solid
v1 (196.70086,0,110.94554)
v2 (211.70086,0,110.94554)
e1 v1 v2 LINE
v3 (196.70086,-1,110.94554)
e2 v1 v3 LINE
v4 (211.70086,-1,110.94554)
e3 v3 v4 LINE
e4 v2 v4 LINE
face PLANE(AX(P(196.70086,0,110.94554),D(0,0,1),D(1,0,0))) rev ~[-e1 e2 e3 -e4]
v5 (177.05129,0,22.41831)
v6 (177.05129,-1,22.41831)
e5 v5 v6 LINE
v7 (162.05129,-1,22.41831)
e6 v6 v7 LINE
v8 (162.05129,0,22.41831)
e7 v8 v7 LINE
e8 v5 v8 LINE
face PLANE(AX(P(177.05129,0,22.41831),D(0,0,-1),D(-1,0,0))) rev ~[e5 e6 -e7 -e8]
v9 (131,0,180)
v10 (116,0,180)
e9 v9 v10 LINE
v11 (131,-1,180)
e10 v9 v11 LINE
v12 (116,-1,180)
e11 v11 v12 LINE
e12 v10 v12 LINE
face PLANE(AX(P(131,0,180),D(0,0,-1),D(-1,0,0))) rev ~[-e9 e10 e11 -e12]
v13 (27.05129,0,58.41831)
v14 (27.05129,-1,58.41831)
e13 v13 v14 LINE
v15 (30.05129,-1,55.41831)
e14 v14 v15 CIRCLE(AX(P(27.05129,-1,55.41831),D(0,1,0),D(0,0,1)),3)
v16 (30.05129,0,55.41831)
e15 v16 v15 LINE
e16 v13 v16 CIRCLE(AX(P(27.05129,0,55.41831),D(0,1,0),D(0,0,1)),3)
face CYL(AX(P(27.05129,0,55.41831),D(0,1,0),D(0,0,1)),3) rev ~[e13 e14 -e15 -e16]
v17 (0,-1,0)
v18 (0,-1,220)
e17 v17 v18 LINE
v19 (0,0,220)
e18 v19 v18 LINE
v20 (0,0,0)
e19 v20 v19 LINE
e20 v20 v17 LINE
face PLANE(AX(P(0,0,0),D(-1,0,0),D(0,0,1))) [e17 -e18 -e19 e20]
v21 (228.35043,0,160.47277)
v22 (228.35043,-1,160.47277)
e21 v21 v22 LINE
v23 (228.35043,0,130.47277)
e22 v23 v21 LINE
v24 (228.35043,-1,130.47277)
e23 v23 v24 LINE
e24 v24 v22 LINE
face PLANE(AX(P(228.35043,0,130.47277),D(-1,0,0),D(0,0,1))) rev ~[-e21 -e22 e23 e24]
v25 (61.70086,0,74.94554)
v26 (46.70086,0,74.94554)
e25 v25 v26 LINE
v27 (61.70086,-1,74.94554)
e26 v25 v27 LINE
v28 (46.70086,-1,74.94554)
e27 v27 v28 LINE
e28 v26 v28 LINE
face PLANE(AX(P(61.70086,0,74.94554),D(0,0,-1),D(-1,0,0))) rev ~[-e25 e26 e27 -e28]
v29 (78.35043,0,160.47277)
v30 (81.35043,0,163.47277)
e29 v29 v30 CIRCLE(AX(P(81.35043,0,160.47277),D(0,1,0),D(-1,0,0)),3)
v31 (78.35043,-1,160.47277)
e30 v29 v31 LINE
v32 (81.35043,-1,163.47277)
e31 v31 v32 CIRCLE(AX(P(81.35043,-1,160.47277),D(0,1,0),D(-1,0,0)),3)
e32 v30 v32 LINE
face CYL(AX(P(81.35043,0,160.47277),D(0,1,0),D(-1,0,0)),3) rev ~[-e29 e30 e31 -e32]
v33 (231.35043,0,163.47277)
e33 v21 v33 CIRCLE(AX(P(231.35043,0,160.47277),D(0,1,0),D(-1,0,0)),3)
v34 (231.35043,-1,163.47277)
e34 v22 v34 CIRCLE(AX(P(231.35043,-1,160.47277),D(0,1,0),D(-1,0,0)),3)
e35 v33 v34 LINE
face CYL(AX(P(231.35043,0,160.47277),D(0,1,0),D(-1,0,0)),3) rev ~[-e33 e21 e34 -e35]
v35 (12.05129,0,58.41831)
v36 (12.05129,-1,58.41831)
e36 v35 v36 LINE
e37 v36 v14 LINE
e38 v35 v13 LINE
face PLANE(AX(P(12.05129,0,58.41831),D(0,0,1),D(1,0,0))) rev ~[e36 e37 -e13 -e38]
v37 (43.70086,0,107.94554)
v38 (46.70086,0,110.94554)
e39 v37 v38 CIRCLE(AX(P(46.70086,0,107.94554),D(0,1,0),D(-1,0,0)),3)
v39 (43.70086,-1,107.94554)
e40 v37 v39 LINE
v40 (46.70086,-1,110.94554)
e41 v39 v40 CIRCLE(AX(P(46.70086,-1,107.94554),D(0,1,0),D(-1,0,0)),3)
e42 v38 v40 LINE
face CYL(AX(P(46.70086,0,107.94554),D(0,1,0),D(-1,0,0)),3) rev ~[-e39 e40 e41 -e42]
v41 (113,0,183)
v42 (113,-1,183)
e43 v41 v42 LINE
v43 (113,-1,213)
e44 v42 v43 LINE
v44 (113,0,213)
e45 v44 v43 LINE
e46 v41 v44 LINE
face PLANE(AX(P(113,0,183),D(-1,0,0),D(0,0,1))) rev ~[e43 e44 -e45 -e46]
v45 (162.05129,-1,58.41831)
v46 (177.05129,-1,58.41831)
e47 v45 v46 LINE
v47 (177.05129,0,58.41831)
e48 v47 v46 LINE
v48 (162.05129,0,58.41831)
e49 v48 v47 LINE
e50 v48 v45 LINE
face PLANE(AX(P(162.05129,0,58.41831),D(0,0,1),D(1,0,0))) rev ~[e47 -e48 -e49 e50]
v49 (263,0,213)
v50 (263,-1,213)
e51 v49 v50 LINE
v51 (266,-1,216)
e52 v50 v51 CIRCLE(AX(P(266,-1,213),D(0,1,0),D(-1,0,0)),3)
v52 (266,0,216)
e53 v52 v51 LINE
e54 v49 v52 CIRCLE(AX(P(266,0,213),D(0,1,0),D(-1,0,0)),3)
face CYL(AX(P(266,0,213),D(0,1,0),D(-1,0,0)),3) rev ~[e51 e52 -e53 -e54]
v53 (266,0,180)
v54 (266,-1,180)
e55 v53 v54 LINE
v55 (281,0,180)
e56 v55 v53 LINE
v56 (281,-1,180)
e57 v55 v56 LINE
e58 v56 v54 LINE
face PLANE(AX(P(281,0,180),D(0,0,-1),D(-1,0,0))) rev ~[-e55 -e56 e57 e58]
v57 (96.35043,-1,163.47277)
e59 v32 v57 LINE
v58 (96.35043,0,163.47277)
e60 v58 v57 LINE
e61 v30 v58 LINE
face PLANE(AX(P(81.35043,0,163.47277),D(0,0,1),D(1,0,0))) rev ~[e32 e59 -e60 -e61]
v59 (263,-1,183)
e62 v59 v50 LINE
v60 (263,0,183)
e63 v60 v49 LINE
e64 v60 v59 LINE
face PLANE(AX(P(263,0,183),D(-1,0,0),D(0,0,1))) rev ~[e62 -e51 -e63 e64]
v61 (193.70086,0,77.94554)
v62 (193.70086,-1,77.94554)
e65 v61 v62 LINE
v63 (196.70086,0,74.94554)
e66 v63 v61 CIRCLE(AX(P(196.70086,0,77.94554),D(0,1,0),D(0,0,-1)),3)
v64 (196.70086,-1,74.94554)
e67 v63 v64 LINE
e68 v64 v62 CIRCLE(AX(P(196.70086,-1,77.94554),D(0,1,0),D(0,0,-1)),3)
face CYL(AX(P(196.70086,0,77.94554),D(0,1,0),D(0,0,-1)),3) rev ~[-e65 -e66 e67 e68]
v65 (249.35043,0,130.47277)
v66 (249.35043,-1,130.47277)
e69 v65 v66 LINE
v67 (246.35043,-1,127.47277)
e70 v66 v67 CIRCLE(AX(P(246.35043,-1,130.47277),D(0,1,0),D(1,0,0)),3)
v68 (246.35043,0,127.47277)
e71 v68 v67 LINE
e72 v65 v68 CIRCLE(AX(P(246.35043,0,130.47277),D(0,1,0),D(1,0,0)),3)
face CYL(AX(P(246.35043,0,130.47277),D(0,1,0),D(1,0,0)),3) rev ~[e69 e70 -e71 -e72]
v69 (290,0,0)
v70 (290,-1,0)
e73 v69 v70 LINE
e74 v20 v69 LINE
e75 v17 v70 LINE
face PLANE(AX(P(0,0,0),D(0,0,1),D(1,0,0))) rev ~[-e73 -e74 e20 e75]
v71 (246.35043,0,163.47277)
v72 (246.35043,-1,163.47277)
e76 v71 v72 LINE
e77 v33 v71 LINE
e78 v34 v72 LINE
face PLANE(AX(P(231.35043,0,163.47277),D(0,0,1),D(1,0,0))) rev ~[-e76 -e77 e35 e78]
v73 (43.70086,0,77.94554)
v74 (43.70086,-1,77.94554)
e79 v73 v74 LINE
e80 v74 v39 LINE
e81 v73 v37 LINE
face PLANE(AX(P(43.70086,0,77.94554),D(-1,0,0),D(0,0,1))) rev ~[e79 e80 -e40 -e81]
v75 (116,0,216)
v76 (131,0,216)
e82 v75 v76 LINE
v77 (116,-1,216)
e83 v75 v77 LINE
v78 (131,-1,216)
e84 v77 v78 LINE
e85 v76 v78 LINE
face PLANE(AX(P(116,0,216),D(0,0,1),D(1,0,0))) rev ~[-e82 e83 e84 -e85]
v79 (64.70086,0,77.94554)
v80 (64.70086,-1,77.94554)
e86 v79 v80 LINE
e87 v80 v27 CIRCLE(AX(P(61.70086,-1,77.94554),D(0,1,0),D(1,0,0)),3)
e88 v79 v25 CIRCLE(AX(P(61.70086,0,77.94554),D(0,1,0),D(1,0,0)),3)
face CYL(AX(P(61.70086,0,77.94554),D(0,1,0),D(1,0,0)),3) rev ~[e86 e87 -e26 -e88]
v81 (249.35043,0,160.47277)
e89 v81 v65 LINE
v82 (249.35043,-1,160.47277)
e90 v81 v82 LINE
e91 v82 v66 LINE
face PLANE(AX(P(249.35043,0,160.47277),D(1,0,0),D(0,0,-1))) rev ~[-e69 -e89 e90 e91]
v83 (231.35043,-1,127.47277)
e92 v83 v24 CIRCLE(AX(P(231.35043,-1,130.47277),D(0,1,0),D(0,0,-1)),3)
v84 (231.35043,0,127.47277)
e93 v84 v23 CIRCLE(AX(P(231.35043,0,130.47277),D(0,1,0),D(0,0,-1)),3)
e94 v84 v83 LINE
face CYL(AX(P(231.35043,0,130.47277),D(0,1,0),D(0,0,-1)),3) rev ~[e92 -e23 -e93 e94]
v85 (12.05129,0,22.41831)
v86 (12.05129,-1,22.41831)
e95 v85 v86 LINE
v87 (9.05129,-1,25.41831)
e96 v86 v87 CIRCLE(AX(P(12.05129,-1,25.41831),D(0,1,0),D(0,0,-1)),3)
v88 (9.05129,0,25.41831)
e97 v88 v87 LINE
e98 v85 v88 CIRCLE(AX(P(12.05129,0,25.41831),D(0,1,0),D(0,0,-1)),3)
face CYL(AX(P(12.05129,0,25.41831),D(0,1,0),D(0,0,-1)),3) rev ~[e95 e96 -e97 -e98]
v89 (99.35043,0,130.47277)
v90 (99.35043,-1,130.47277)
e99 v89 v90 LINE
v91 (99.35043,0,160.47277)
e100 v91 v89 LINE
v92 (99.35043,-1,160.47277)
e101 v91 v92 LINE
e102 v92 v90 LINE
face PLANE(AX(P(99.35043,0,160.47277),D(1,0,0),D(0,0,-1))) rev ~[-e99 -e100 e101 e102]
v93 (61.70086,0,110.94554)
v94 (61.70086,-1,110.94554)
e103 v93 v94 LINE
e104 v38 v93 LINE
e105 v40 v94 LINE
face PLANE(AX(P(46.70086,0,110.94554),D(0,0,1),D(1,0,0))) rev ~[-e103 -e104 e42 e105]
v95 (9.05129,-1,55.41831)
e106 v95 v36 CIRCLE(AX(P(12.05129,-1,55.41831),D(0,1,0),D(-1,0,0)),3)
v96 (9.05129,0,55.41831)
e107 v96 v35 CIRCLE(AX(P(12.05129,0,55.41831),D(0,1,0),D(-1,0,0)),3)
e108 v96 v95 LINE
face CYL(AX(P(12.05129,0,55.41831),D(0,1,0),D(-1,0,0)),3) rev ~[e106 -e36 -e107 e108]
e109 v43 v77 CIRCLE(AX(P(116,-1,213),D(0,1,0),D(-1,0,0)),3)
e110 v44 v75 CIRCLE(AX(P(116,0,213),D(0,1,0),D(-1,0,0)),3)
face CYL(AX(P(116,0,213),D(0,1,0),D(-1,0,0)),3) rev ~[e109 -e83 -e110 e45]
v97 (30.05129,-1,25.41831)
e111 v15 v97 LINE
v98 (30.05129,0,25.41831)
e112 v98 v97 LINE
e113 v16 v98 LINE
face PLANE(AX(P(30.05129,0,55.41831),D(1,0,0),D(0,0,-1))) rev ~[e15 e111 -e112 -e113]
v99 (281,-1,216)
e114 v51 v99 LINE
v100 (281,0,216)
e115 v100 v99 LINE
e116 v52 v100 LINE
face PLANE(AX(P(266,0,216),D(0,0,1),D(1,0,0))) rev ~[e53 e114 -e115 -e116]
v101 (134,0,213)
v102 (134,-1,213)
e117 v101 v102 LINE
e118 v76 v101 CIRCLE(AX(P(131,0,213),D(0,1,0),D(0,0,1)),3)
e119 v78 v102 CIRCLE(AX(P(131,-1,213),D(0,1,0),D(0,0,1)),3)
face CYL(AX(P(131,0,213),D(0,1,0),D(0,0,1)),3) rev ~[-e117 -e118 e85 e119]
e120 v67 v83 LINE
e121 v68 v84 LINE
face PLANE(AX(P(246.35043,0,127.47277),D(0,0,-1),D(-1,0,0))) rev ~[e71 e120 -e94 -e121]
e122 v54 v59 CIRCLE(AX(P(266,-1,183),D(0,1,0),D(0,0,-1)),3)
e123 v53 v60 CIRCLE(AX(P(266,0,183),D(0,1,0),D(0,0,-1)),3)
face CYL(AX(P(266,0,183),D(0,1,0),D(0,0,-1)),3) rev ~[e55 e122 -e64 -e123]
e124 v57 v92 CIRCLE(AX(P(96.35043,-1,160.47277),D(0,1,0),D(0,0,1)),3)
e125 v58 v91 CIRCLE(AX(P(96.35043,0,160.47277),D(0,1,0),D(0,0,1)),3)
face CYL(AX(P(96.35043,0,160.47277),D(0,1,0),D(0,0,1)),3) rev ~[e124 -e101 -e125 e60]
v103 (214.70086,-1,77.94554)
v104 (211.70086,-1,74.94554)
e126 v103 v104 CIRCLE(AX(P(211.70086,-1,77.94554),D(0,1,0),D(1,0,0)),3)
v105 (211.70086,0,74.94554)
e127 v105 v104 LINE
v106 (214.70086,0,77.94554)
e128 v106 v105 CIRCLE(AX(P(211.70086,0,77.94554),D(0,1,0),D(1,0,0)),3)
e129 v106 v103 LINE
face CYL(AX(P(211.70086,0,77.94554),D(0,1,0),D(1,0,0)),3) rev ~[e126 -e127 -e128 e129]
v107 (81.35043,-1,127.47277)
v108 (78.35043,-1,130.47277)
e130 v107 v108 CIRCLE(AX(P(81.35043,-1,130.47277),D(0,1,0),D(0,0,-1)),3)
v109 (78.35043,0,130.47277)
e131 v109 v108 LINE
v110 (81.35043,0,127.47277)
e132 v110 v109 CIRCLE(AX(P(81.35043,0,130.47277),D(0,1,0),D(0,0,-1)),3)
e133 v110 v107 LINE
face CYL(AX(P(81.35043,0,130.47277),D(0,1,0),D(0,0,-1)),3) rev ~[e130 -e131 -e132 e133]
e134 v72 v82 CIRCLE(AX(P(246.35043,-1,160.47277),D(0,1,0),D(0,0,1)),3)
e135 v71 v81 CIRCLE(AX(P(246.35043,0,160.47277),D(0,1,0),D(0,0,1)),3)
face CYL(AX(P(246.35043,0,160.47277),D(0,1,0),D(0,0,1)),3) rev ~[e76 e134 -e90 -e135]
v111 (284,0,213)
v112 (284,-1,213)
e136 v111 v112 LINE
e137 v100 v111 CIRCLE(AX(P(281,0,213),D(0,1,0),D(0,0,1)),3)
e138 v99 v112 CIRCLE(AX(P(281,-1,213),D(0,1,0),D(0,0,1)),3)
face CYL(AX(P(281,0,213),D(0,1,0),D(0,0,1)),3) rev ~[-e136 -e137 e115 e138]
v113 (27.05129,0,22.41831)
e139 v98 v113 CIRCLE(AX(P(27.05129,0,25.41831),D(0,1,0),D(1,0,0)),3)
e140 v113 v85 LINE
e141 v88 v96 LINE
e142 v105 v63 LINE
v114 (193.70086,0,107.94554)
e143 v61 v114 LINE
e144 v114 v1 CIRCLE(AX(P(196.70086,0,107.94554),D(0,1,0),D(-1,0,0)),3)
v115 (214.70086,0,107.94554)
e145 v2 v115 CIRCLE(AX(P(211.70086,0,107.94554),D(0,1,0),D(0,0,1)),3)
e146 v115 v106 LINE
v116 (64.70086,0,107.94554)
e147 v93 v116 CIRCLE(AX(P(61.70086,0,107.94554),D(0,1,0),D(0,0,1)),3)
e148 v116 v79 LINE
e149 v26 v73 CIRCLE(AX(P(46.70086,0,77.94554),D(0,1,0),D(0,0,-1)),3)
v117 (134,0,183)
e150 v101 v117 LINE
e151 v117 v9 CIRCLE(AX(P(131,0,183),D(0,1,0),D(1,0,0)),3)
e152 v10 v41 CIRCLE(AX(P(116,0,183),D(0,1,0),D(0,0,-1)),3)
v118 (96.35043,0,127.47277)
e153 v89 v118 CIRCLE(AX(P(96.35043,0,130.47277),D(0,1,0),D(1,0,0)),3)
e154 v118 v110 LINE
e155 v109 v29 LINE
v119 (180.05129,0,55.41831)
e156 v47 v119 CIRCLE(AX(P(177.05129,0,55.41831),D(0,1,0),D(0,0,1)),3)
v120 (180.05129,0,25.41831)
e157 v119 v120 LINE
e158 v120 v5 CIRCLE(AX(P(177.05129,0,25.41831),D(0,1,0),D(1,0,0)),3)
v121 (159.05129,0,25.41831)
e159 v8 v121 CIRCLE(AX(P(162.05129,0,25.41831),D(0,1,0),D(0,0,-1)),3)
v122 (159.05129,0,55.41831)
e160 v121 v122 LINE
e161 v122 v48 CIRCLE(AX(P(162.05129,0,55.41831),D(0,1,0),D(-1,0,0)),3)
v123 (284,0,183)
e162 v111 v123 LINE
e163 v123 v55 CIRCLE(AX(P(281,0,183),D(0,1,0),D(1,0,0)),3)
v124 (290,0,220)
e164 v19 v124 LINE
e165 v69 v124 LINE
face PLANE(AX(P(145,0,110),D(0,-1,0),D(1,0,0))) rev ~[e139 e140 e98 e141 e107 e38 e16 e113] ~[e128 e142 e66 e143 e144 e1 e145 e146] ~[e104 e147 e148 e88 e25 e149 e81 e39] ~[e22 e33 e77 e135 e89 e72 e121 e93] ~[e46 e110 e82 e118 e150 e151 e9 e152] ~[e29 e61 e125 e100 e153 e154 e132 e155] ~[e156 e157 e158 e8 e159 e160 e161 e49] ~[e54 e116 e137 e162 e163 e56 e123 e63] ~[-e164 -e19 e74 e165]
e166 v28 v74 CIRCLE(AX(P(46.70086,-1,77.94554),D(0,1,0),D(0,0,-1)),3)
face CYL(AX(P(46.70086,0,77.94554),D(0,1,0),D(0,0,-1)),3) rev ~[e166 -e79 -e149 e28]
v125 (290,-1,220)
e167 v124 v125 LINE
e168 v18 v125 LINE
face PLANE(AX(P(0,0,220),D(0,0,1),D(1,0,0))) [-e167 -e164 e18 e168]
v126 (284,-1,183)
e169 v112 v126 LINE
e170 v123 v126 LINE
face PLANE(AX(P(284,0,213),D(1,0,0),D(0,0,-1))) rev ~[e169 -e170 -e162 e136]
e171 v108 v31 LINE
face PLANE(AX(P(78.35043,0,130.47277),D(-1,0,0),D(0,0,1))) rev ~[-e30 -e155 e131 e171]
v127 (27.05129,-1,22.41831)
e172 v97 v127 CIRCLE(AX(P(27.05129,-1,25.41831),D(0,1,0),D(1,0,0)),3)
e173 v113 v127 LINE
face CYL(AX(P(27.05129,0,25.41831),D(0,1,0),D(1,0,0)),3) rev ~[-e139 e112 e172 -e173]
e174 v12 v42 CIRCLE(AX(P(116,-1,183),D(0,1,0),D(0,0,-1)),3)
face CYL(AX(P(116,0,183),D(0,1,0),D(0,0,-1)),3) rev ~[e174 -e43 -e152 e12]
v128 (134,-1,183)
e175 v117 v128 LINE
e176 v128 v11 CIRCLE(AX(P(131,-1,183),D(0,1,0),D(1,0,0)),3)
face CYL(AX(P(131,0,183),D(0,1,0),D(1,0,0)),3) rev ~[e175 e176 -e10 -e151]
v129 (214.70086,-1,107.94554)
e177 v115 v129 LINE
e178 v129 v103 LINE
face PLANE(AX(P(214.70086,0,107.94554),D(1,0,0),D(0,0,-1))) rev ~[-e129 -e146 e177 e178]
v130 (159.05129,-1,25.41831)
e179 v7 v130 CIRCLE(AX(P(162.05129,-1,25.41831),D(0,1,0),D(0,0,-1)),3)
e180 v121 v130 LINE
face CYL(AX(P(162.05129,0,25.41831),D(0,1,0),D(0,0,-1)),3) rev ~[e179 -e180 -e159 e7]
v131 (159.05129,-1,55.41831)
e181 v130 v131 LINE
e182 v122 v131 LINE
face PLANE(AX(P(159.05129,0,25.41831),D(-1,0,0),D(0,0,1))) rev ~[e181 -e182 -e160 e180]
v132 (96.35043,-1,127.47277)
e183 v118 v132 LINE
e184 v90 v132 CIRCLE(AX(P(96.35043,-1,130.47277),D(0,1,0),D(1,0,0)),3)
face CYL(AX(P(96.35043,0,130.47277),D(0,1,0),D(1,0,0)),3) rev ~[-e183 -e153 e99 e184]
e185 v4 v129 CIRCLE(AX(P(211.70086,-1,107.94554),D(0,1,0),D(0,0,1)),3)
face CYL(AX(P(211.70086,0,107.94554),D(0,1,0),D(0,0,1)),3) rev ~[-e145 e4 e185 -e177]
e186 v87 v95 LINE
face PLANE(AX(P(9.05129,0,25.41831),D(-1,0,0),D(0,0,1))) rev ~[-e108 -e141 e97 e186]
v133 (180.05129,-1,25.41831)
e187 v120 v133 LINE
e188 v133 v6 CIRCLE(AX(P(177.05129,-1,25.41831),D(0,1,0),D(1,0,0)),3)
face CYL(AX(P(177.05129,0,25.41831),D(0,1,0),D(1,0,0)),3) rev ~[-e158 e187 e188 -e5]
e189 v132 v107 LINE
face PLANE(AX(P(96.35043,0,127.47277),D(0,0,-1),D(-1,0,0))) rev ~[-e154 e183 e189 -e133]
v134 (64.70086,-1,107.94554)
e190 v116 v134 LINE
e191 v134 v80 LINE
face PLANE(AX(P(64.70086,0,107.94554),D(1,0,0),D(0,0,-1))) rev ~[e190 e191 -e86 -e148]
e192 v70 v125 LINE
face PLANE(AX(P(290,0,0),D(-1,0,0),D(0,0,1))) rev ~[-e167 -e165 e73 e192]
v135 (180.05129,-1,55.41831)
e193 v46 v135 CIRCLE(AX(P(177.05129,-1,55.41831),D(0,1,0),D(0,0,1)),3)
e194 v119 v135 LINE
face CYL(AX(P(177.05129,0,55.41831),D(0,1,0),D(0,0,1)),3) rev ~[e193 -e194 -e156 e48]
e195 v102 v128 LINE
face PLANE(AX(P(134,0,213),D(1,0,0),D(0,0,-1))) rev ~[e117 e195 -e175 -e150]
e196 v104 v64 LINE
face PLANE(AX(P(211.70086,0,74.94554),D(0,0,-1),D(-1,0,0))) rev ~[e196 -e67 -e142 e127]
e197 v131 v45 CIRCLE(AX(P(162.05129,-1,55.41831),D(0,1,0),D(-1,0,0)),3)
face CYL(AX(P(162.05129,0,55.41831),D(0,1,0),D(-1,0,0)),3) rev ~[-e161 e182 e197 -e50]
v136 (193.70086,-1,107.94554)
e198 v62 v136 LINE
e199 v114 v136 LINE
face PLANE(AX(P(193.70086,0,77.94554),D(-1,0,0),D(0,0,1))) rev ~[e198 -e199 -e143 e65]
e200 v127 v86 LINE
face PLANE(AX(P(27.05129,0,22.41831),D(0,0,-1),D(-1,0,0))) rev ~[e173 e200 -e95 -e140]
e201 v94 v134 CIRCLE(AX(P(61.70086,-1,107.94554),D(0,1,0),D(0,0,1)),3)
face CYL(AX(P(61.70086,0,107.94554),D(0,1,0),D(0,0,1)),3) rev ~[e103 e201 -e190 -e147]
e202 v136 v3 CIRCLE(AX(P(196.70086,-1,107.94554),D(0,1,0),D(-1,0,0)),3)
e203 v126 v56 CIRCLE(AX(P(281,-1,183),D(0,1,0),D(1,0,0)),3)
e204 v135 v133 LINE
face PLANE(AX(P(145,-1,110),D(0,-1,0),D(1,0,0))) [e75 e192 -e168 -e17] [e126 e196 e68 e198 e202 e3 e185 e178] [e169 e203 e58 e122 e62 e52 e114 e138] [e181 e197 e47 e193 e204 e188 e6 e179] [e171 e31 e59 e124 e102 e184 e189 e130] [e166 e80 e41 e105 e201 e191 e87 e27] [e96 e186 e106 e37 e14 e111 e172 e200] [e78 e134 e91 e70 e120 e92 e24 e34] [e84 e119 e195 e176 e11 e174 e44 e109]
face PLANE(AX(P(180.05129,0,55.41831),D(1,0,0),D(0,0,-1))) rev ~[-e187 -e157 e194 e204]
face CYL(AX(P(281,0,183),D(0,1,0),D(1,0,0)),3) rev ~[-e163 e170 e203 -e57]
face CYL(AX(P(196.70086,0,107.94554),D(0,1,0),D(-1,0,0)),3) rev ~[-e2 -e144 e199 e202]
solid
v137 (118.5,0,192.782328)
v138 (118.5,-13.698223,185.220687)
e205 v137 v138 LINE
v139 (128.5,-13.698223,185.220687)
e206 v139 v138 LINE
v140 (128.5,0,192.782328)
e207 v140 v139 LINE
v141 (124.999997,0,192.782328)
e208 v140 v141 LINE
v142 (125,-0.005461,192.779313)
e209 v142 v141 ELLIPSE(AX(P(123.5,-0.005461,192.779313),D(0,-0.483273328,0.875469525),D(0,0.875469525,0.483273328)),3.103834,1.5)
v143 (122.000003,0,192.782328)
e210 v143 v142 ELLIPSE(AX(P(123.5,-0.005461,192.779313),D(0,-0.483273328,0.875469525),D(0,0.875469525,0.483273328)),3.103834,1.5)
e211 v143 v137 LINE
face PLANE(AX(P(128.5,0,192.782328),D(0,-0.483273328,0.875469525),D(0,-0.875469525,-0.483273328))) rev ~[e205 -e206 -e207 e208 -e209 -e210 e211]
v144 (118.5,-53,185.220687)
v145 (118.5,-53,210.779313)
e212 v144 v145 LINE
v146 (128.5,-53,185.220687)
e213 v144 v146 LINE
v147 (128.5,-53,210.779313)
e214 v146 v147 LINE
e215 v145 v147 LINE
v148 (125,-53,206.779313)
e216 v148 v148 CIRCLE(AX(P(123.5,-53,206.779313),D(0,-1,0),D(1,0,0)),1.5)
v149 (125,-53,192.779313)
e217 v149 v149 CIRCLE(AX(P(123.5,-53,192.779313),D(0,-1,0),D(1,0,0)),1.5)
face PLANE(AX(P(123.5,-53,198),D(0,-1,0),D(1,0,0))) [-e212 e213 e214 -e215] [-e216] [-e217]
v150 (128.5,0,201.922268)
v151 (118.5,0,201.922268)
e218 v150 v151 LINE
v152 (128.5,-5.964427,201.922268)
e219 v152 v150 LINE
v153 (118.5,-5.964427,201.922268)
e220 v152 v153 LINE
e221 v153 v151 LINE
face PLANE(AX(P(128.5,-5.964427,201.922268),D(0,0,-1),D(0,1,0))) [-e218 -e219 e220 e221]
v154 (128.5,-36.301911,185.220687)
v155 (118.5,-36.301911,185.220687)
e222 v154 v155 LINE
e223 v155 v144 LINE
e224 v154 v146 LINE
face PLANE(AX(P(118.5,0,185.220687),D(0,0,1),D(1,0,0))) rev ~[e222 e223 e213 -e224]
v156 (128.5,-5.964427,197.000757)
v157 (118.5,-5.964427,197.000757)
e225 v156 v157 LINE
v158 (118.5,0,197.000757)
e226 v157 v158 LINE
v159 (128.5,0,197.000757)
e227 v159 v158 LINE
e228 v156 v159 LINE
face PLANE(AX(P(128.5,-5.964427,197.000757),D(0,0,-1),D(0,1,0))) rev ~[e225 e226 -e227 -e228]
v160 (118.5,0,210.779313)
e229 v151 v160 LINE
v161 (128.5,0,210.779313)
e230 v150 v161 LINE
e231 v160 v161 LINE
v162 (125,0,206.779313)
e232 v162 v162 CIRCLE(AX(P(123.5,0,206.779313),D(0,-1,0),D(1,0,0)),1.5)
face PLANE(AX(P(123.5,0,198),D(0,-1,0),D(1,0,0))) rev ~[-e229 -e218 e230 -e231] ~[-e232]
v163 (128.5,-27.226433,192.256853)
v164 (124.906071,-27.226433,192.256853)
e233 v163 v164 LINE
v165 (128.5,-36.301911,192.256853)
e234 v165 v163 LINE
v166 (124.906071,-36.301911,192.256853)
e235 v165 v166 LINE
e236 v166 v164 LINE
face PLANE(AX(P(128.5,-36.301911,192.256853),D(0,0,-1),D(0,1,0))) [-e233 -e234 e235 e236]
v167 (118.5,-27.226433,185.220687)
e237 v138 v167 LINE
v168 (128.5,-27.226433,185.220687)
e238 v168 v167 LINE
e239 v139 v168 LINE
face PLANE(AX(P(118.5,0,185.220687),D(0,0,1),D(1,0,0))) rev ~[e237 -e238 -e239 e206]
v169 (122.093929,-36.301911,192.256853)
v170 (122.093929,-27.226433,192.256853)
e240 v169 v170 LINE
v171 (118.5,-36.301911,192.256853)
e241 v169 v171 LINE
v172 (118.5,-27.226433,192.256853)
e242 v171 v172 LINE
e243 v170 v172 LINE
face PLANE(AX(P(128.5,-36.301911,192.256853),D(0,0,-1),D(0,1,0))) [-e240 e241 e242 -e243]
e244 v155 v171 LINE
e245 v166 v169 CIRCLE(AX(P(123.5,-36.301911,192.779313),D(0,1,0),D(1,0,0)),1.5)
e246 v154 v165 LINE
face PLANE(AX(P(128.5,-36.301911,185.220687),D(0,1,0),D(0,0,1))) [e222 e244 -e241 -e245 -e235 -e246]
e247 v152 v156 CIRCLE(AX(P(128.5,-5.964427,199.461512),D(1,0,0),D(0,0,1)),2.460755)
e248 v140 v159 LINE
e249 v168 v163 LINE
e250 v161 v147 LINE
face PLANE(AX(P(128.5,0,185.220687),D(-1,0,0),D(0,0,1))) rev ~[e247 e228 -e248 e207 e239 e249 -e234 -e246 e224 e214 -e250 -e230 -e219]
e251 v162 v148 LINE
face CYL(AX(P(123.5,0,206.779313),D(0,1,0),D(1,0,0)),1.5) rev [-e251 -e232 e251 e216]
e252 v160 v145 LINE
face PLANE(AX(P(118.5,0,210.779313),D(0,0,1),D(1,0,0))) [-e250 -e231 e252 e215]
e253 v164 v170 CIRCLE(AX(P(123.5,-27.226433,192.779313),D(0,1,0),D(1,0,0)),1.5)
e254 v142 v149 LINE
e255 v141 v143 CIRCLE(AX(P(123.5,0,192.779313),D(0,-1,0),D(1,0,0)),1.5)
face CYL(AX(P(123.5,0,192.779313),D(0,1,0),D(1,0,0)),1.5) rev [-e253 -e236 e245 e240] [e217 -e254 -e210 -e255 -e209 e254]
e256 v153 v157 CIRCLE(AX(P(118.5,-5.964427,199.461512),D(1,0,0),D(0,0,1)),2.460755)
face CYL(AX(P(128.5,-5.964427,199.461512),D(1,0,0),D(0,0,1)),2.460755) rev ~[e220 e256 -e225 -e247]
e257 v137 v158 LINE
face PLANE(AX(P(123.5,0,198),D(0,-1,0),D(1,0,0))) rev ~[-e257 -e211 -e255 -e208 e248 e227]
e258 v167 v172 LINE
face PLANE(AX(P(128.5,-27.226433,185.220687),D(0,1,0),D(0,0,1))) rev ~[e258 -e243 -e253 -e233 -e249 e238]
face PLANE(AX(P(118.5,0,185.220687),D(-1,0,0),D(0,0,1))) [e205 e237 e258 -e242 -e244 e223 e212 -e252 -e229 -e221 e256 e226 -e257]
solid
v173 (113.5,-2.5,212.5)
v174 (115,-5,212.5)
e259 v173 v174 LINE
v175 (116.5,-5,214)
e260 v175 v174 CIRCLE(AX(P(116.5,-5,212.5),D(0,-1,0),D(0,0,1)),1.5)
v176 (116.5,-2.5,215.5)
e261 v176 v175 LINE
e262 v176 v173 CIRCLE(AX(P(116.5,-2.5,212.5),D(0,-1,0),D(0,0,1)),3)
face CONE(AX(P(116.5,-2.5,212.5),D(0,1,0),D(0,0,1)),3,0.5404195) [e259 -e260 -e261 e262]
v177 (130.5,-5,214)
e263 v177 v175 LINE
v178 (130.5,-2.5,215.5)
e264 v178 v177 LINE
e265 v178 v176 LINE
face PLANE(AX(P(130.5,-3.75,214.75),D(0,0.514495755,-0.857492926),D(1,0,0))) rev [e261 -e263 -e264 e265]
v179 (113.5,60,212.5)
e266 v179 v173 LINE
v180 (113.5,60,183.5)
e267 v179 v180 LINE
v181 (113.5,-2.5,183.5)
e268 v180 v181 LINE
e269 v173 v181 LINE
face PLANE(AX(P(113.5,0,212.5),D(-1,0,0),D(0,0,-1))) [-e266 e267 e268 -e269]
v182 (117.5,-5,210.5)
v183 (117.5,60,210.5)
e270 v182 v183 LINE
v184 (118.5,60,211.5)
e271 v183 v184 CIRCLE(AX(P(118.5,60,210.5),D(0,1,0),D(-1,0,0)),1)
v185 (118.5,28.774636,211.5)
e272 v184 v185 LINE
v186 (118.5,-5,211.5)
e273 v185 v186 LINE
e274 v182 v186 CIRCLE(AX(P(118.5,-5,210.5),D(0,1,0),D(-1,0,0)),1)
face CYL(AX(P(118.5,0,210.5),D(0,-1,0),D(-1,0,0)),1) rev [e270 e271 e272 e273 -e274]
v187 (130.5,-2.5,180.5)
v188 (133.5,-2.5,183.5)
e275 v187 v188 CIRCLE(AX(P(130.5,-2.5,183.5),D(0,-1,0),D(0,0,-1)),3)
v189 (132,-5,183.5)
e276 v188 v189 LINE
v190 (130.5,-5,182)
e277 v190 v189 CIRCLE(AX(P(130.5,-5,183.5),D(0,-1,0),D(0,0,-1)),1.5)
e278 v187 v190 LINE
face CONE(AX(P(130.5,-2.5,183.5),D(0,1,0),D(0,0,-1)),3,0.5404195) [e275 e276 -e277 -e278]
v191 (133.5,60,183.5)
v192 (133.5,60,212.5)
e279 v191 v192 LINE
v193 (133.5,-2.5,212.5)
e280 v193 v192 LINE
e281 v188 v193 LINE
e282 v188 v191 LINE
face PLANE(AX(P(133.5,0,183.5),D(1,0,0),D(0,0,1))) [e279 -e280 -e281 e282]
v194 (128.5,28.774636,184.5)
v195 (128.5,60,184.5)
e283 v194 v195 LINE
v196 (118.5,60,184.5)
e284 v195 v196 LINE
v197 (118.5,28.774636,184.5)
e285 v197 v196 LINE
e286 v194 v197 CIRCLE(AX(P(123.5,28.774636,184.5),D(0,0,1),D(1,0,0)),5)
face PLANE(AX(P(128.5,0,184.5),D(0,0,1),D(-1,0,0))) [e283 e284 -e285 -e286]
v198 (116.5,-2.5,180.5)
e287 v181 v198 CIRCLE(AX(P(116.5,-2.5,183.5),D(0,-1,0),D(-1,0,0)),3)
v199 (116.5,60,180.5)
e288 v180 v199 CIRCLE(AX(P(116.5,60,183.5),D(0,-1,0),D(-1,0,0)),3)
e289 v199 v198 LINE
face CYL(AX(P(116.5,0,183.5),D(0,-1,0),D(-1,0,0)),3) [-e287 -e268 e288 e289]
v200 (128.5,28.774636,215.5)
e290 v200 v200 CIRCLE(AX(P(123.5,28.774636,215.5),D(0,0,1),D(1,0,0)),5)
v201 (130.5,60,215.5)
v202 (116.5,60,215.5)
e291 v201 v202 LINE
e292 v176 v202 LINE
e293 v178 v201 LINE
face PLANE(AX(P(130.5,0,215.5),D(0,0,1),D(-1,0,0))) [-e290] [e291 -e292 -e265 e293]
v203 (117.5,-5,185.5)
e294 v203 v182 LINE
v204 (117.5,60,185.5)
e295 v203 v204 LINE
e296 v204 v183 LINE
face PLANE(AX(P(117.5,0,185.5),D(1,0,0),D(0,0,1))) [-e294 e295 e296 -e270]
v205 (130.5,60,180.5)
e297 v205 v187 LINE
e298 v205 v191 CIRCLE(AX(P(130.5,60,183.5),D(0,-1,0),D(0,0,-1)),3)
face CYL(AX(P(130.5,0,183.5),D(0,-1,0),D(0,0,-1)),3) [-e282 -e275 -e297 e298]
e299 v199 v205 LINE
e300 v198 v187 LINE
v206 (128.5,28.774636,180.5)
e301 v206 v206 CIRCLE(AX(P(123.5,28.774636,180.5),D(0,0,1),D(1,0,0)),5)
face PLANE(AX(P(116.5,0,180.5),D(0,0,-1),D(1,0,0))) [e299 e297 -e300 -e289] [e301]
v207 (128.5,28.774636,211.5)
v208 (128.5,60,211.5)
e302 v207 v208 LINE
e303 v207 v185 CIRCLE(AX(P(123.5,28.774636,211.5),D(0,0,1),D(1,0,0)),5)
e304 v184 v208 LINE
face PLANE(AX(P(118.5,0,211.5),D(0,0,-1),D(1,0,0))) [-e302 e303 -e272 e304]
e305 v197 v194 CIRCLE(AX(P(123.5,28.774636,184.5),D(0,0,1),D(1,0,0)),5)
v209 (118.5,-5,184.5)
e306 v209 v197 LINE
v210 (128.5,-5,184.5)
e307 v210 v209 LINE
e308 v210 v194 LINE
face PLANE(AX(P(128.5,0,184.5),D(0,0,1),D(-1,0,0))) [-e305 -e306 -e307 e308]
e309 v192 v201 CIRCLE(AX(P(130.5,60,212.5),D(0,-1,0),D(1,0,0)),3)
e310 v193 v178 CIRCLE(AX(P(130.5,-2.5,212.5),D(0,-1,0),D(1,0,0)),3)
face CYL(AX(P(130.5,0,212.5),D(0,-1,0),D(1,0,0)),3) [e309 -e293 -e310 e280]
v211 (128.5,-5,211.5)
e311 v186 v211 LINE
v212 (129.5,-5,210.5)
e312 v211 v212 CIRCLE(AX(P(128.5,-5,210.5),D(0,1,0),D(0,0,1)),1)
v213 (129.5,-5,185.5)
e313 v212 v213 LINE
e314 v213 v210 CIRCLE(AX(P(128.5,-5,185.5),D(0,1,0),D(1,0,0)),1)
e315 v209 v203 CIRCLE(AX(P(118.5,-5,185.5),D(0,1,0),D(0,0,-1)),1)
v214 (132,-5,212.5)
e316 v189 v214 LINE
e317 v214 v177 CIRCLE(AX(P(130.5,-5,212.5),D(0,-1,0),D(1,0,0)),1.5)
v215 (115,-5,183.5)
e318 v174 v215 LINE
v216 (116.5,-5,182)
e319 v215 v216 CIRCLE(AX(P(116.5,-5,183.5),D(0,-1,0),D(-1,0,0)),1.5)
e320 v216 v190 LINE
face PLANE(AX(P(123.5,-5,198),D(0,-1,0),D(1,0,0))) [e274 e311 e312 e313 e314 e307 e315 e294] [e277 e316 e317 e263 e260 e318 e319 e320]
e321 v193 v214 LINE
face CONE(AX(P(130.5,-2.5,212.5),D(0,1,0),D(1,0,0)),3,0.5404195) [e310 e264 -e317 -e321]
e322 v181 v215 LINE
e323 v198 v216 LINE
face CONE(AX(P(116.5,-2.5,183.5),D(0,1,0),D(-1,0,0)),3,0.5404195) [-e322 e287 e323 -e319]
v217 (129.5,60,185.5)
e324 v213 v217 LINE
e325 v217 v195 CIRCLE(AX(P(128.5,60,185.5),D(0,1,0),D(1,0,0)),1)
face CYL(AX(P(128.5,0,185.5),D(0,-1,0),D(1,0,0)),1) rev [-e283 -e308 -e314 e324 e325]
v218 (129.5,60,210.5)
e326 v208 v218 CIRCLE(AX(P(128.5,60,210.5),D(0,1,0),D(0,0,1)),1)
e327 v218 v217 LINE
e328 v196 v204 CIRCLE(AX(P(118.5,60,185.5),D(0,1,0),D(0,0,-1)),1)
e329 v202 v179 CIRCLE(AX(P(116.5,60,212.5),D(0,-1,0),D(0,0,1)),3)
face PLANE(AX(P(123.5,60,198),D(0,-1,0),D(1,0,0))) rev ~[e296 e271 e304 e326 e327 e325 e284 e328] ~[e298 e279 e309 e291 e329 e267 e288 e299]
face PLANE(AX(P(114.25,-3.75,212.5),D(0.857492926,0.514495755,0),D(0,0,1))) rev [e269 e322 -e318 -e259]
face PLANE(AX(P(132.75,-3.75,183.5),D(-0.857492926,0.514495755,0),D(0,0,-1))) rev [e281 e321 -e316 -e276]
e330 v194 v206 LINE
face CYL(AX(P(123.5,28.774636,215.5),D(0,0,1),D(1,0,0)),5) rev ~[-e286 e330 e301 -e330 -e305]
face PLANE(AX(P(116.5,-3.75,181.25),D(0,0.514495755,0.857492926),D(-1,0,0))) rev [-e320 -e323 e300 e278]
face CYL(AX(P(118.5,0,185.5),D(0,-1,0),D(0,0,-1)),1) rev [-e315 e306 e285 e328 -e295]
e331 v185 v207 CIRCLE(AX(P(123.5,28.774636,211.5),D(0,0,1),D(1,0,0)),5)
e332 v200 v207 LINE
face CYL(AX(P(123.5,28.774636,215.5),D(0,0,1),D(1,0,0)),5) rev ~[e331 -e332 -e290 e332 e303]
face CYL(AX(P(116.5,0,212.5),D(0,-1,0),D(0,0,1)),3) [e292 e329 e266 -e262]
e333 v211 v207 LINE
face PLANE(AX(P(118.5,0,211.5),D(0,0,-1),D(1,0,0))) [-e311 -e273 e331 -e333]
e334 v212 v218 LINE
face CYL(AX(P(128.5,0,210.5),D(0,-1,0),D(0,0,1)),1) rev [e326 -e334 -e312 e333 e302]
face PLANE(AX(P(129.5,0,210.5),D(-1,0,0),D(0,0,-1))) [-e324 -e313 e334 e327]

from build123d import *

# Parameters (mm, degrees)
F0_W      = 290
F0_H      = 220
F1_DEPTH  = 1
F3_DEPTH  = 5
F4_SIZE2  = 1.5
F4_SIZE   = 2.5
F5_DEPTH  = 60
F6_R      = 5
F7_DEPTH  = 35
F11_W     = 10
F11_H     = 25.5586259929
F11_R     = 1.5
F8_DEPTH  = 53
F9_W      = 9.0754777193
F9_H      = 7.0361659809
F9_W_2    = 5.9644267894
F9_H_2    = 4.9215108156
F10_DEPTH = 10


with BuildPart() as f1:
    # F0 (on Front) → F1 (new body)
    with BuildSketch(Plane.XZ):
        with Locations((145, 110)):
            Rectangle(F0_W, F0_H)
        with BuildLine():
            ThreePointArc((27.05129, 58.41831), (29.1726103436, 57.5396303436), (30.05129, 55.41831))
            Line((30.05129, 55.41831), (30.05129, 25.41831))
            ThreePointArc((30.05129, 25.41831), (29.1726103436, 23.2969896564), (27.05129, 22.41831))
            Line((27.05129, 22.41831), (12.05129, 22.41831))
            ThreePointArc((12.05129, 22.41831), (9.9299696564, 23.2969896564), (9.05129, 25.41831))
            Line((9.05129, 25.41831), (9.05129, 55.41831))
            ThreePointArc((9.05129, 55.41831), (9.9299696564, 57.5396303436), (12.05129, 58.41831))
            Line((12.05129, 58.41831), (27.05129, 58.41831))
        make_face(mode=Mode.SUBTRACT)
        with BuildLine():
            Line((43.70086, 77.94554), (43.70086, 107.94554))
            ThreePointArc((43.70086, 107.94554), (44.5795396564, 110.0668603436), (46.70086, 110.94554))
            Line((46.70086, 110.94554), (61.70086, 110.94554))
            ThreePointArc((61.70086, 110.94554), (63.8221803436, 110.0668603436), (64.70086, 107.94554))
            Line((64.70086, 107.94554), (64.70086, 77.94554))
            ThreePointArc((64.70086, 77.94554), (63.8221803436, 75.8242196564), (61.70086, 74.94554))
            Line((61.70086, 74.94554), (46.70086, 74.94554))
            ThreePointArc((46.70086, 74.94554), (44.5795396564, 75.8242196564), (43.70086, 77.94554))
        make_face(mode=Mode.SUBTRACT)
        with BuildLine():
            ThreePointArc((177.05129, 58.41831), (179.1726103436, 57.5396303436), (180.05129, 55.41831))
            Line((180.05129, 55.41831), (180.05129, 25.41831))
            ThreePointArc((180.05129, 25.41831), (179.1726103436, 23.2969896564), (177.05129, 22.41831))
            Line((177.05129, 22.41831), (162.05129, 22.41831))
            ThreePointArc((162.05129, 22.41831), (159.9299696564, 23.2969896564), (159.05129, 25.41831))
            Line((159.05129, 25.41831), (159.05129, 55.41831))
            ThreePointArc((159.05129, 55.41831), (159.9299696564, 57.5396303436), (162.05129, 58.41831))
            Line((162.05129, 58.41831), (177.05129, 58.41831))
        make_face(mode=Mode.SUBTRACT)
        with BuildLine():
            ThreePointArc((211.70086, 110.94554), (213.8221803436, 110.0668603436), (214.70086, 107.94554))
            Line((214.70086, 107.94554), (214.70086, 77.94554))
            ThreePointArc((214.70086, 77.94554), (213.8221803436, 75.8242196564), (211.70086, 74.94554))
            Line((211.70086, 74.94554), (196.70086, 74.94554))
            ThreePointArc((196.70086, 74.94554), (194.5795396564, 75.8242196564), (193.70086, 77.94554))
            Line((193.70086, 77.94554), (193.70086, 107.94554))
            ThreePointArc((193.70086, 107.94554), (194.5795396564, 110.0668603436), (196.70086, 110.94554))
            Line((196.70086, 110.94554), (211.70086, 110.94554))
        make_face(mode=Mode.SUBTRACT)
        with BuildLine():
            Line((78.35043, 130.47277), (78.35043, 160.47277))
            ThreePointArc((78.35043, 160.47277), (79.2291096564, 162.5940903436), (81.35043, 163.47277))
            Line((81.35043, 163.47277), (96.35043, 163.47277))
            ThreePointArc((96.35043, 163.47277), (98.4717503436, 162.5940903436), (99.35043, 160.47277))
            Line((99.35043, 160.47277), (99.35043, 130.47277))
            ThreePointArc((99.35043, 130.47277), (98.4717503436, 128.3514496564), (96.35043, 127.47277))
            Line((96.35043, 127.47277), (81.35043, 127.47277))
            ThreePointArc((81.35043, 127.47277), (79.2291096564, 128.3514496564), (78.35043, 130.47277))
        make_face(mode=Mode.SUBTRACT)
        with BuildLine():
            ThreePointArc((113, 213), (113.8786796564, 215.1213203436), (116, 216))
            Line((116, 216), (131, 216))
            ThreePointArc((131, 216), (133.1213203436, 215.1213203436), (134, 213))
            Line((134, 213), (134, 183))
            ThreePointArc((134, 183), (133.1213203436, 180.8786796564), (131, 180))
            Line((131, 180), (116, 180))
            ThreePointArc((116, 180), (113.8786796564, 180.8786796564), (113, 183))
            Line((113, 183), (113, 213))
        make_face(mode=Mode.SUBTRACT)
        with BuildLine():
            ThreePointArc((246.35043, 163.47277), (248.4717503436, 162.5940903436), (249.35043, 160.47277))
            Line((249.35043, 160.47277), (249.35043, 130.47277))
            ThreePointArc((249.35043, 130.47277), (248.4717503436, 128.3514496564), (246.35043, 127.47277))
            Line((246.35043, 127.47277), (231.35043, 127.47277))
            ThreePointArc((231.35043, 127.47277), (229.2291096564, 128.3514496564), (228.35043, 130.47277))
            Line((228.35043, 130.47277), (228.35043, 160.47277))
            ThreePointArc((228.35043, 160.47277), (229.2291096564, 162.5940903436), (231.35043, 163.47277))
            Line((231.35043, 163.47277), (246.35043, 163.47277))
        make_face(mode=Mode.SUBTRACT)
        with BuildLine():
            ThreePointArc((263, 213), (263.8786796564, 215.1213203436), (266, 216))
            Line((266, 216), (281, 216))
            ThreePointArc((281, 216), (283.1213203436, 215.1213203436), (284, 213))
            Line((284, 213), (284, 183))
            ThreePointArc((284, 183), (283.1213203436, 180.8786796564), (281, 180))
            Line((281, 180), (266, 180))
            ThreePointArc((266, 180), (263.8786796564, 180.8786796564), (263, 183))
            Line((263, 183), (263, 213))
        make_face(mode=Mode.SUBTRACT)
    extrude(amount=F1_DEPTH)


with BuildPart() as f3:
    # F2 (on Front) → F3 (new body)
    with BuildSketch(Plane.XZ):
        with BuildLine():
            ThreePointArc((116.5, 215.5), (114.3786796564, 214.6213203436), (113.5, 212.5))
            Line((113.5, 212.5), (113.5, 183.5))
            ThreePointArc((113.5, 183.5), (114.3786796564, 181.3786796564), (116.5, 180.5))
            Line((116.5, 180.5), (130.5, 180.5))
            ThreePointArc((130.5, 180.5), (132.6213203436, 181.3786796564), (133.5, 183.5))
            Line((133.5, 183.5), (133.5, 212.5))
            ThreePointArc((133.5, 212.5), (132.6213203436, 214.6213203436), (130.5, 215.5))
            Line((130.5, 215.5), (116.5, 215.5))
        make_face()
        with BuildLine():
            Line((118.5, 211.5), (128.5, 211.5))
            ThreePointArc((128.5, 211.5), (129.2071067812, 211.2071067812), (129.5, 210.5))
            Line((129.5, 210.5), (129.5, 198))
            Line((129.5, 198), (129.5, 185.5))
            ThreePointArc((129.5, 185.5), (129.2071067812, 184.7928932188), (128.5, 184.5))
            Line((128.5, 184.5), (123.5, 184.5))
            Line((123.5, 184.5), (118.5, 184.5))
            ThreePointArc((118.5, 184.5), (117.7928932188, 184.7928932188), (117.5, 185.5))
            Line((117.5, 185.5), (117.5, 210.5))
            ThreePointArc((117.5, 210.5), (117.7928932188, 211.2071067812), (118.5, 211.5))
        make_face(mode=Mode.SUBTRACT)
    extrude(amount=F3_DEPTH)

    # F4
    f4_edges = [f3.edges().sort_by_distance(p)[0] for p in [
        (133.5, -5, 198),
        (132.62132, -5, 214.62132),
        (123.5, -5, 215.5),
        (114.37868, -5, 214.62132),
        (113.5, -5, 198),
        (114.37868, -5, 181.37868),
        (123.5, -5, 180.5),
        (132.62132, -5, 181.37868),
    ]]
    chamfer(f4_edges, length=F4_SIZE, length2=F4_SIZE2)

    # F5 (add): a face of the model
    f5_faces = [f3.faces().sort_by_distance(p)[0] for p in [
        (114.6637235127, 0, 214.3362764873),
    ]]
    extrude(f5_faces, amount=F5_DEPTH)

    # F6 (on face) → F7 (cut)
    with BuildSketch(Plane.XY.offset(215.5)):
        with Locations((123.5, 28.7746358663)):
            Circle(F6_R)
    extrude(amount=-F7_DEPTH, mode=Mode.SUBTRACT)


with BuildPart() as f8:
    # F11 (on Front) → F8 (new body)
    with BuildSketch(Plane.XZ):
        with Locations((123.5, 198)):
            Rectangle(F11_W, F11_H)
        with Locations((123.5, 192.7793129965)):
            Circle(F11_R, mode=Mode.SUBTRACT)
        with Locations((123.5, 206.7793129965)):
            Circle(F11_R, mode=Mode.SUBTRACT)
    extrude(amount=F8_DEPTH)

    # F9 (on face) → F10 (cut, through all)
    with BuildSketch(Plane.YZ.offset(128.5)):
        with Locations((-31.7641720176, 188.738769994)):
            Rectangle(F9_W, F9_H)
        Polygon((0, 192.7823275328), (-13.698223047, 185.2206870035), (0, 185.2206870035), align=None)
        with Locations((-2.9822133947, 199.4615122676)):
            Rectangle(F9_W_2, F9_H_2)
        with BuildLine():
            Line((-5.9644267894, 197.0007568598), (-5.9644267894, 201.9222676754))
            ThreePointArc((-5.9644267894, 201.9222676754), (-8.4251821972, 199.4615122676), (-5.9644267894, 197.0007568598))
        make_face()
    extrude(amount=-F10_DEPTH, mode=Mode.SUBTRACT)


solid = Compound([f1.part, f3.part, f8.part])
